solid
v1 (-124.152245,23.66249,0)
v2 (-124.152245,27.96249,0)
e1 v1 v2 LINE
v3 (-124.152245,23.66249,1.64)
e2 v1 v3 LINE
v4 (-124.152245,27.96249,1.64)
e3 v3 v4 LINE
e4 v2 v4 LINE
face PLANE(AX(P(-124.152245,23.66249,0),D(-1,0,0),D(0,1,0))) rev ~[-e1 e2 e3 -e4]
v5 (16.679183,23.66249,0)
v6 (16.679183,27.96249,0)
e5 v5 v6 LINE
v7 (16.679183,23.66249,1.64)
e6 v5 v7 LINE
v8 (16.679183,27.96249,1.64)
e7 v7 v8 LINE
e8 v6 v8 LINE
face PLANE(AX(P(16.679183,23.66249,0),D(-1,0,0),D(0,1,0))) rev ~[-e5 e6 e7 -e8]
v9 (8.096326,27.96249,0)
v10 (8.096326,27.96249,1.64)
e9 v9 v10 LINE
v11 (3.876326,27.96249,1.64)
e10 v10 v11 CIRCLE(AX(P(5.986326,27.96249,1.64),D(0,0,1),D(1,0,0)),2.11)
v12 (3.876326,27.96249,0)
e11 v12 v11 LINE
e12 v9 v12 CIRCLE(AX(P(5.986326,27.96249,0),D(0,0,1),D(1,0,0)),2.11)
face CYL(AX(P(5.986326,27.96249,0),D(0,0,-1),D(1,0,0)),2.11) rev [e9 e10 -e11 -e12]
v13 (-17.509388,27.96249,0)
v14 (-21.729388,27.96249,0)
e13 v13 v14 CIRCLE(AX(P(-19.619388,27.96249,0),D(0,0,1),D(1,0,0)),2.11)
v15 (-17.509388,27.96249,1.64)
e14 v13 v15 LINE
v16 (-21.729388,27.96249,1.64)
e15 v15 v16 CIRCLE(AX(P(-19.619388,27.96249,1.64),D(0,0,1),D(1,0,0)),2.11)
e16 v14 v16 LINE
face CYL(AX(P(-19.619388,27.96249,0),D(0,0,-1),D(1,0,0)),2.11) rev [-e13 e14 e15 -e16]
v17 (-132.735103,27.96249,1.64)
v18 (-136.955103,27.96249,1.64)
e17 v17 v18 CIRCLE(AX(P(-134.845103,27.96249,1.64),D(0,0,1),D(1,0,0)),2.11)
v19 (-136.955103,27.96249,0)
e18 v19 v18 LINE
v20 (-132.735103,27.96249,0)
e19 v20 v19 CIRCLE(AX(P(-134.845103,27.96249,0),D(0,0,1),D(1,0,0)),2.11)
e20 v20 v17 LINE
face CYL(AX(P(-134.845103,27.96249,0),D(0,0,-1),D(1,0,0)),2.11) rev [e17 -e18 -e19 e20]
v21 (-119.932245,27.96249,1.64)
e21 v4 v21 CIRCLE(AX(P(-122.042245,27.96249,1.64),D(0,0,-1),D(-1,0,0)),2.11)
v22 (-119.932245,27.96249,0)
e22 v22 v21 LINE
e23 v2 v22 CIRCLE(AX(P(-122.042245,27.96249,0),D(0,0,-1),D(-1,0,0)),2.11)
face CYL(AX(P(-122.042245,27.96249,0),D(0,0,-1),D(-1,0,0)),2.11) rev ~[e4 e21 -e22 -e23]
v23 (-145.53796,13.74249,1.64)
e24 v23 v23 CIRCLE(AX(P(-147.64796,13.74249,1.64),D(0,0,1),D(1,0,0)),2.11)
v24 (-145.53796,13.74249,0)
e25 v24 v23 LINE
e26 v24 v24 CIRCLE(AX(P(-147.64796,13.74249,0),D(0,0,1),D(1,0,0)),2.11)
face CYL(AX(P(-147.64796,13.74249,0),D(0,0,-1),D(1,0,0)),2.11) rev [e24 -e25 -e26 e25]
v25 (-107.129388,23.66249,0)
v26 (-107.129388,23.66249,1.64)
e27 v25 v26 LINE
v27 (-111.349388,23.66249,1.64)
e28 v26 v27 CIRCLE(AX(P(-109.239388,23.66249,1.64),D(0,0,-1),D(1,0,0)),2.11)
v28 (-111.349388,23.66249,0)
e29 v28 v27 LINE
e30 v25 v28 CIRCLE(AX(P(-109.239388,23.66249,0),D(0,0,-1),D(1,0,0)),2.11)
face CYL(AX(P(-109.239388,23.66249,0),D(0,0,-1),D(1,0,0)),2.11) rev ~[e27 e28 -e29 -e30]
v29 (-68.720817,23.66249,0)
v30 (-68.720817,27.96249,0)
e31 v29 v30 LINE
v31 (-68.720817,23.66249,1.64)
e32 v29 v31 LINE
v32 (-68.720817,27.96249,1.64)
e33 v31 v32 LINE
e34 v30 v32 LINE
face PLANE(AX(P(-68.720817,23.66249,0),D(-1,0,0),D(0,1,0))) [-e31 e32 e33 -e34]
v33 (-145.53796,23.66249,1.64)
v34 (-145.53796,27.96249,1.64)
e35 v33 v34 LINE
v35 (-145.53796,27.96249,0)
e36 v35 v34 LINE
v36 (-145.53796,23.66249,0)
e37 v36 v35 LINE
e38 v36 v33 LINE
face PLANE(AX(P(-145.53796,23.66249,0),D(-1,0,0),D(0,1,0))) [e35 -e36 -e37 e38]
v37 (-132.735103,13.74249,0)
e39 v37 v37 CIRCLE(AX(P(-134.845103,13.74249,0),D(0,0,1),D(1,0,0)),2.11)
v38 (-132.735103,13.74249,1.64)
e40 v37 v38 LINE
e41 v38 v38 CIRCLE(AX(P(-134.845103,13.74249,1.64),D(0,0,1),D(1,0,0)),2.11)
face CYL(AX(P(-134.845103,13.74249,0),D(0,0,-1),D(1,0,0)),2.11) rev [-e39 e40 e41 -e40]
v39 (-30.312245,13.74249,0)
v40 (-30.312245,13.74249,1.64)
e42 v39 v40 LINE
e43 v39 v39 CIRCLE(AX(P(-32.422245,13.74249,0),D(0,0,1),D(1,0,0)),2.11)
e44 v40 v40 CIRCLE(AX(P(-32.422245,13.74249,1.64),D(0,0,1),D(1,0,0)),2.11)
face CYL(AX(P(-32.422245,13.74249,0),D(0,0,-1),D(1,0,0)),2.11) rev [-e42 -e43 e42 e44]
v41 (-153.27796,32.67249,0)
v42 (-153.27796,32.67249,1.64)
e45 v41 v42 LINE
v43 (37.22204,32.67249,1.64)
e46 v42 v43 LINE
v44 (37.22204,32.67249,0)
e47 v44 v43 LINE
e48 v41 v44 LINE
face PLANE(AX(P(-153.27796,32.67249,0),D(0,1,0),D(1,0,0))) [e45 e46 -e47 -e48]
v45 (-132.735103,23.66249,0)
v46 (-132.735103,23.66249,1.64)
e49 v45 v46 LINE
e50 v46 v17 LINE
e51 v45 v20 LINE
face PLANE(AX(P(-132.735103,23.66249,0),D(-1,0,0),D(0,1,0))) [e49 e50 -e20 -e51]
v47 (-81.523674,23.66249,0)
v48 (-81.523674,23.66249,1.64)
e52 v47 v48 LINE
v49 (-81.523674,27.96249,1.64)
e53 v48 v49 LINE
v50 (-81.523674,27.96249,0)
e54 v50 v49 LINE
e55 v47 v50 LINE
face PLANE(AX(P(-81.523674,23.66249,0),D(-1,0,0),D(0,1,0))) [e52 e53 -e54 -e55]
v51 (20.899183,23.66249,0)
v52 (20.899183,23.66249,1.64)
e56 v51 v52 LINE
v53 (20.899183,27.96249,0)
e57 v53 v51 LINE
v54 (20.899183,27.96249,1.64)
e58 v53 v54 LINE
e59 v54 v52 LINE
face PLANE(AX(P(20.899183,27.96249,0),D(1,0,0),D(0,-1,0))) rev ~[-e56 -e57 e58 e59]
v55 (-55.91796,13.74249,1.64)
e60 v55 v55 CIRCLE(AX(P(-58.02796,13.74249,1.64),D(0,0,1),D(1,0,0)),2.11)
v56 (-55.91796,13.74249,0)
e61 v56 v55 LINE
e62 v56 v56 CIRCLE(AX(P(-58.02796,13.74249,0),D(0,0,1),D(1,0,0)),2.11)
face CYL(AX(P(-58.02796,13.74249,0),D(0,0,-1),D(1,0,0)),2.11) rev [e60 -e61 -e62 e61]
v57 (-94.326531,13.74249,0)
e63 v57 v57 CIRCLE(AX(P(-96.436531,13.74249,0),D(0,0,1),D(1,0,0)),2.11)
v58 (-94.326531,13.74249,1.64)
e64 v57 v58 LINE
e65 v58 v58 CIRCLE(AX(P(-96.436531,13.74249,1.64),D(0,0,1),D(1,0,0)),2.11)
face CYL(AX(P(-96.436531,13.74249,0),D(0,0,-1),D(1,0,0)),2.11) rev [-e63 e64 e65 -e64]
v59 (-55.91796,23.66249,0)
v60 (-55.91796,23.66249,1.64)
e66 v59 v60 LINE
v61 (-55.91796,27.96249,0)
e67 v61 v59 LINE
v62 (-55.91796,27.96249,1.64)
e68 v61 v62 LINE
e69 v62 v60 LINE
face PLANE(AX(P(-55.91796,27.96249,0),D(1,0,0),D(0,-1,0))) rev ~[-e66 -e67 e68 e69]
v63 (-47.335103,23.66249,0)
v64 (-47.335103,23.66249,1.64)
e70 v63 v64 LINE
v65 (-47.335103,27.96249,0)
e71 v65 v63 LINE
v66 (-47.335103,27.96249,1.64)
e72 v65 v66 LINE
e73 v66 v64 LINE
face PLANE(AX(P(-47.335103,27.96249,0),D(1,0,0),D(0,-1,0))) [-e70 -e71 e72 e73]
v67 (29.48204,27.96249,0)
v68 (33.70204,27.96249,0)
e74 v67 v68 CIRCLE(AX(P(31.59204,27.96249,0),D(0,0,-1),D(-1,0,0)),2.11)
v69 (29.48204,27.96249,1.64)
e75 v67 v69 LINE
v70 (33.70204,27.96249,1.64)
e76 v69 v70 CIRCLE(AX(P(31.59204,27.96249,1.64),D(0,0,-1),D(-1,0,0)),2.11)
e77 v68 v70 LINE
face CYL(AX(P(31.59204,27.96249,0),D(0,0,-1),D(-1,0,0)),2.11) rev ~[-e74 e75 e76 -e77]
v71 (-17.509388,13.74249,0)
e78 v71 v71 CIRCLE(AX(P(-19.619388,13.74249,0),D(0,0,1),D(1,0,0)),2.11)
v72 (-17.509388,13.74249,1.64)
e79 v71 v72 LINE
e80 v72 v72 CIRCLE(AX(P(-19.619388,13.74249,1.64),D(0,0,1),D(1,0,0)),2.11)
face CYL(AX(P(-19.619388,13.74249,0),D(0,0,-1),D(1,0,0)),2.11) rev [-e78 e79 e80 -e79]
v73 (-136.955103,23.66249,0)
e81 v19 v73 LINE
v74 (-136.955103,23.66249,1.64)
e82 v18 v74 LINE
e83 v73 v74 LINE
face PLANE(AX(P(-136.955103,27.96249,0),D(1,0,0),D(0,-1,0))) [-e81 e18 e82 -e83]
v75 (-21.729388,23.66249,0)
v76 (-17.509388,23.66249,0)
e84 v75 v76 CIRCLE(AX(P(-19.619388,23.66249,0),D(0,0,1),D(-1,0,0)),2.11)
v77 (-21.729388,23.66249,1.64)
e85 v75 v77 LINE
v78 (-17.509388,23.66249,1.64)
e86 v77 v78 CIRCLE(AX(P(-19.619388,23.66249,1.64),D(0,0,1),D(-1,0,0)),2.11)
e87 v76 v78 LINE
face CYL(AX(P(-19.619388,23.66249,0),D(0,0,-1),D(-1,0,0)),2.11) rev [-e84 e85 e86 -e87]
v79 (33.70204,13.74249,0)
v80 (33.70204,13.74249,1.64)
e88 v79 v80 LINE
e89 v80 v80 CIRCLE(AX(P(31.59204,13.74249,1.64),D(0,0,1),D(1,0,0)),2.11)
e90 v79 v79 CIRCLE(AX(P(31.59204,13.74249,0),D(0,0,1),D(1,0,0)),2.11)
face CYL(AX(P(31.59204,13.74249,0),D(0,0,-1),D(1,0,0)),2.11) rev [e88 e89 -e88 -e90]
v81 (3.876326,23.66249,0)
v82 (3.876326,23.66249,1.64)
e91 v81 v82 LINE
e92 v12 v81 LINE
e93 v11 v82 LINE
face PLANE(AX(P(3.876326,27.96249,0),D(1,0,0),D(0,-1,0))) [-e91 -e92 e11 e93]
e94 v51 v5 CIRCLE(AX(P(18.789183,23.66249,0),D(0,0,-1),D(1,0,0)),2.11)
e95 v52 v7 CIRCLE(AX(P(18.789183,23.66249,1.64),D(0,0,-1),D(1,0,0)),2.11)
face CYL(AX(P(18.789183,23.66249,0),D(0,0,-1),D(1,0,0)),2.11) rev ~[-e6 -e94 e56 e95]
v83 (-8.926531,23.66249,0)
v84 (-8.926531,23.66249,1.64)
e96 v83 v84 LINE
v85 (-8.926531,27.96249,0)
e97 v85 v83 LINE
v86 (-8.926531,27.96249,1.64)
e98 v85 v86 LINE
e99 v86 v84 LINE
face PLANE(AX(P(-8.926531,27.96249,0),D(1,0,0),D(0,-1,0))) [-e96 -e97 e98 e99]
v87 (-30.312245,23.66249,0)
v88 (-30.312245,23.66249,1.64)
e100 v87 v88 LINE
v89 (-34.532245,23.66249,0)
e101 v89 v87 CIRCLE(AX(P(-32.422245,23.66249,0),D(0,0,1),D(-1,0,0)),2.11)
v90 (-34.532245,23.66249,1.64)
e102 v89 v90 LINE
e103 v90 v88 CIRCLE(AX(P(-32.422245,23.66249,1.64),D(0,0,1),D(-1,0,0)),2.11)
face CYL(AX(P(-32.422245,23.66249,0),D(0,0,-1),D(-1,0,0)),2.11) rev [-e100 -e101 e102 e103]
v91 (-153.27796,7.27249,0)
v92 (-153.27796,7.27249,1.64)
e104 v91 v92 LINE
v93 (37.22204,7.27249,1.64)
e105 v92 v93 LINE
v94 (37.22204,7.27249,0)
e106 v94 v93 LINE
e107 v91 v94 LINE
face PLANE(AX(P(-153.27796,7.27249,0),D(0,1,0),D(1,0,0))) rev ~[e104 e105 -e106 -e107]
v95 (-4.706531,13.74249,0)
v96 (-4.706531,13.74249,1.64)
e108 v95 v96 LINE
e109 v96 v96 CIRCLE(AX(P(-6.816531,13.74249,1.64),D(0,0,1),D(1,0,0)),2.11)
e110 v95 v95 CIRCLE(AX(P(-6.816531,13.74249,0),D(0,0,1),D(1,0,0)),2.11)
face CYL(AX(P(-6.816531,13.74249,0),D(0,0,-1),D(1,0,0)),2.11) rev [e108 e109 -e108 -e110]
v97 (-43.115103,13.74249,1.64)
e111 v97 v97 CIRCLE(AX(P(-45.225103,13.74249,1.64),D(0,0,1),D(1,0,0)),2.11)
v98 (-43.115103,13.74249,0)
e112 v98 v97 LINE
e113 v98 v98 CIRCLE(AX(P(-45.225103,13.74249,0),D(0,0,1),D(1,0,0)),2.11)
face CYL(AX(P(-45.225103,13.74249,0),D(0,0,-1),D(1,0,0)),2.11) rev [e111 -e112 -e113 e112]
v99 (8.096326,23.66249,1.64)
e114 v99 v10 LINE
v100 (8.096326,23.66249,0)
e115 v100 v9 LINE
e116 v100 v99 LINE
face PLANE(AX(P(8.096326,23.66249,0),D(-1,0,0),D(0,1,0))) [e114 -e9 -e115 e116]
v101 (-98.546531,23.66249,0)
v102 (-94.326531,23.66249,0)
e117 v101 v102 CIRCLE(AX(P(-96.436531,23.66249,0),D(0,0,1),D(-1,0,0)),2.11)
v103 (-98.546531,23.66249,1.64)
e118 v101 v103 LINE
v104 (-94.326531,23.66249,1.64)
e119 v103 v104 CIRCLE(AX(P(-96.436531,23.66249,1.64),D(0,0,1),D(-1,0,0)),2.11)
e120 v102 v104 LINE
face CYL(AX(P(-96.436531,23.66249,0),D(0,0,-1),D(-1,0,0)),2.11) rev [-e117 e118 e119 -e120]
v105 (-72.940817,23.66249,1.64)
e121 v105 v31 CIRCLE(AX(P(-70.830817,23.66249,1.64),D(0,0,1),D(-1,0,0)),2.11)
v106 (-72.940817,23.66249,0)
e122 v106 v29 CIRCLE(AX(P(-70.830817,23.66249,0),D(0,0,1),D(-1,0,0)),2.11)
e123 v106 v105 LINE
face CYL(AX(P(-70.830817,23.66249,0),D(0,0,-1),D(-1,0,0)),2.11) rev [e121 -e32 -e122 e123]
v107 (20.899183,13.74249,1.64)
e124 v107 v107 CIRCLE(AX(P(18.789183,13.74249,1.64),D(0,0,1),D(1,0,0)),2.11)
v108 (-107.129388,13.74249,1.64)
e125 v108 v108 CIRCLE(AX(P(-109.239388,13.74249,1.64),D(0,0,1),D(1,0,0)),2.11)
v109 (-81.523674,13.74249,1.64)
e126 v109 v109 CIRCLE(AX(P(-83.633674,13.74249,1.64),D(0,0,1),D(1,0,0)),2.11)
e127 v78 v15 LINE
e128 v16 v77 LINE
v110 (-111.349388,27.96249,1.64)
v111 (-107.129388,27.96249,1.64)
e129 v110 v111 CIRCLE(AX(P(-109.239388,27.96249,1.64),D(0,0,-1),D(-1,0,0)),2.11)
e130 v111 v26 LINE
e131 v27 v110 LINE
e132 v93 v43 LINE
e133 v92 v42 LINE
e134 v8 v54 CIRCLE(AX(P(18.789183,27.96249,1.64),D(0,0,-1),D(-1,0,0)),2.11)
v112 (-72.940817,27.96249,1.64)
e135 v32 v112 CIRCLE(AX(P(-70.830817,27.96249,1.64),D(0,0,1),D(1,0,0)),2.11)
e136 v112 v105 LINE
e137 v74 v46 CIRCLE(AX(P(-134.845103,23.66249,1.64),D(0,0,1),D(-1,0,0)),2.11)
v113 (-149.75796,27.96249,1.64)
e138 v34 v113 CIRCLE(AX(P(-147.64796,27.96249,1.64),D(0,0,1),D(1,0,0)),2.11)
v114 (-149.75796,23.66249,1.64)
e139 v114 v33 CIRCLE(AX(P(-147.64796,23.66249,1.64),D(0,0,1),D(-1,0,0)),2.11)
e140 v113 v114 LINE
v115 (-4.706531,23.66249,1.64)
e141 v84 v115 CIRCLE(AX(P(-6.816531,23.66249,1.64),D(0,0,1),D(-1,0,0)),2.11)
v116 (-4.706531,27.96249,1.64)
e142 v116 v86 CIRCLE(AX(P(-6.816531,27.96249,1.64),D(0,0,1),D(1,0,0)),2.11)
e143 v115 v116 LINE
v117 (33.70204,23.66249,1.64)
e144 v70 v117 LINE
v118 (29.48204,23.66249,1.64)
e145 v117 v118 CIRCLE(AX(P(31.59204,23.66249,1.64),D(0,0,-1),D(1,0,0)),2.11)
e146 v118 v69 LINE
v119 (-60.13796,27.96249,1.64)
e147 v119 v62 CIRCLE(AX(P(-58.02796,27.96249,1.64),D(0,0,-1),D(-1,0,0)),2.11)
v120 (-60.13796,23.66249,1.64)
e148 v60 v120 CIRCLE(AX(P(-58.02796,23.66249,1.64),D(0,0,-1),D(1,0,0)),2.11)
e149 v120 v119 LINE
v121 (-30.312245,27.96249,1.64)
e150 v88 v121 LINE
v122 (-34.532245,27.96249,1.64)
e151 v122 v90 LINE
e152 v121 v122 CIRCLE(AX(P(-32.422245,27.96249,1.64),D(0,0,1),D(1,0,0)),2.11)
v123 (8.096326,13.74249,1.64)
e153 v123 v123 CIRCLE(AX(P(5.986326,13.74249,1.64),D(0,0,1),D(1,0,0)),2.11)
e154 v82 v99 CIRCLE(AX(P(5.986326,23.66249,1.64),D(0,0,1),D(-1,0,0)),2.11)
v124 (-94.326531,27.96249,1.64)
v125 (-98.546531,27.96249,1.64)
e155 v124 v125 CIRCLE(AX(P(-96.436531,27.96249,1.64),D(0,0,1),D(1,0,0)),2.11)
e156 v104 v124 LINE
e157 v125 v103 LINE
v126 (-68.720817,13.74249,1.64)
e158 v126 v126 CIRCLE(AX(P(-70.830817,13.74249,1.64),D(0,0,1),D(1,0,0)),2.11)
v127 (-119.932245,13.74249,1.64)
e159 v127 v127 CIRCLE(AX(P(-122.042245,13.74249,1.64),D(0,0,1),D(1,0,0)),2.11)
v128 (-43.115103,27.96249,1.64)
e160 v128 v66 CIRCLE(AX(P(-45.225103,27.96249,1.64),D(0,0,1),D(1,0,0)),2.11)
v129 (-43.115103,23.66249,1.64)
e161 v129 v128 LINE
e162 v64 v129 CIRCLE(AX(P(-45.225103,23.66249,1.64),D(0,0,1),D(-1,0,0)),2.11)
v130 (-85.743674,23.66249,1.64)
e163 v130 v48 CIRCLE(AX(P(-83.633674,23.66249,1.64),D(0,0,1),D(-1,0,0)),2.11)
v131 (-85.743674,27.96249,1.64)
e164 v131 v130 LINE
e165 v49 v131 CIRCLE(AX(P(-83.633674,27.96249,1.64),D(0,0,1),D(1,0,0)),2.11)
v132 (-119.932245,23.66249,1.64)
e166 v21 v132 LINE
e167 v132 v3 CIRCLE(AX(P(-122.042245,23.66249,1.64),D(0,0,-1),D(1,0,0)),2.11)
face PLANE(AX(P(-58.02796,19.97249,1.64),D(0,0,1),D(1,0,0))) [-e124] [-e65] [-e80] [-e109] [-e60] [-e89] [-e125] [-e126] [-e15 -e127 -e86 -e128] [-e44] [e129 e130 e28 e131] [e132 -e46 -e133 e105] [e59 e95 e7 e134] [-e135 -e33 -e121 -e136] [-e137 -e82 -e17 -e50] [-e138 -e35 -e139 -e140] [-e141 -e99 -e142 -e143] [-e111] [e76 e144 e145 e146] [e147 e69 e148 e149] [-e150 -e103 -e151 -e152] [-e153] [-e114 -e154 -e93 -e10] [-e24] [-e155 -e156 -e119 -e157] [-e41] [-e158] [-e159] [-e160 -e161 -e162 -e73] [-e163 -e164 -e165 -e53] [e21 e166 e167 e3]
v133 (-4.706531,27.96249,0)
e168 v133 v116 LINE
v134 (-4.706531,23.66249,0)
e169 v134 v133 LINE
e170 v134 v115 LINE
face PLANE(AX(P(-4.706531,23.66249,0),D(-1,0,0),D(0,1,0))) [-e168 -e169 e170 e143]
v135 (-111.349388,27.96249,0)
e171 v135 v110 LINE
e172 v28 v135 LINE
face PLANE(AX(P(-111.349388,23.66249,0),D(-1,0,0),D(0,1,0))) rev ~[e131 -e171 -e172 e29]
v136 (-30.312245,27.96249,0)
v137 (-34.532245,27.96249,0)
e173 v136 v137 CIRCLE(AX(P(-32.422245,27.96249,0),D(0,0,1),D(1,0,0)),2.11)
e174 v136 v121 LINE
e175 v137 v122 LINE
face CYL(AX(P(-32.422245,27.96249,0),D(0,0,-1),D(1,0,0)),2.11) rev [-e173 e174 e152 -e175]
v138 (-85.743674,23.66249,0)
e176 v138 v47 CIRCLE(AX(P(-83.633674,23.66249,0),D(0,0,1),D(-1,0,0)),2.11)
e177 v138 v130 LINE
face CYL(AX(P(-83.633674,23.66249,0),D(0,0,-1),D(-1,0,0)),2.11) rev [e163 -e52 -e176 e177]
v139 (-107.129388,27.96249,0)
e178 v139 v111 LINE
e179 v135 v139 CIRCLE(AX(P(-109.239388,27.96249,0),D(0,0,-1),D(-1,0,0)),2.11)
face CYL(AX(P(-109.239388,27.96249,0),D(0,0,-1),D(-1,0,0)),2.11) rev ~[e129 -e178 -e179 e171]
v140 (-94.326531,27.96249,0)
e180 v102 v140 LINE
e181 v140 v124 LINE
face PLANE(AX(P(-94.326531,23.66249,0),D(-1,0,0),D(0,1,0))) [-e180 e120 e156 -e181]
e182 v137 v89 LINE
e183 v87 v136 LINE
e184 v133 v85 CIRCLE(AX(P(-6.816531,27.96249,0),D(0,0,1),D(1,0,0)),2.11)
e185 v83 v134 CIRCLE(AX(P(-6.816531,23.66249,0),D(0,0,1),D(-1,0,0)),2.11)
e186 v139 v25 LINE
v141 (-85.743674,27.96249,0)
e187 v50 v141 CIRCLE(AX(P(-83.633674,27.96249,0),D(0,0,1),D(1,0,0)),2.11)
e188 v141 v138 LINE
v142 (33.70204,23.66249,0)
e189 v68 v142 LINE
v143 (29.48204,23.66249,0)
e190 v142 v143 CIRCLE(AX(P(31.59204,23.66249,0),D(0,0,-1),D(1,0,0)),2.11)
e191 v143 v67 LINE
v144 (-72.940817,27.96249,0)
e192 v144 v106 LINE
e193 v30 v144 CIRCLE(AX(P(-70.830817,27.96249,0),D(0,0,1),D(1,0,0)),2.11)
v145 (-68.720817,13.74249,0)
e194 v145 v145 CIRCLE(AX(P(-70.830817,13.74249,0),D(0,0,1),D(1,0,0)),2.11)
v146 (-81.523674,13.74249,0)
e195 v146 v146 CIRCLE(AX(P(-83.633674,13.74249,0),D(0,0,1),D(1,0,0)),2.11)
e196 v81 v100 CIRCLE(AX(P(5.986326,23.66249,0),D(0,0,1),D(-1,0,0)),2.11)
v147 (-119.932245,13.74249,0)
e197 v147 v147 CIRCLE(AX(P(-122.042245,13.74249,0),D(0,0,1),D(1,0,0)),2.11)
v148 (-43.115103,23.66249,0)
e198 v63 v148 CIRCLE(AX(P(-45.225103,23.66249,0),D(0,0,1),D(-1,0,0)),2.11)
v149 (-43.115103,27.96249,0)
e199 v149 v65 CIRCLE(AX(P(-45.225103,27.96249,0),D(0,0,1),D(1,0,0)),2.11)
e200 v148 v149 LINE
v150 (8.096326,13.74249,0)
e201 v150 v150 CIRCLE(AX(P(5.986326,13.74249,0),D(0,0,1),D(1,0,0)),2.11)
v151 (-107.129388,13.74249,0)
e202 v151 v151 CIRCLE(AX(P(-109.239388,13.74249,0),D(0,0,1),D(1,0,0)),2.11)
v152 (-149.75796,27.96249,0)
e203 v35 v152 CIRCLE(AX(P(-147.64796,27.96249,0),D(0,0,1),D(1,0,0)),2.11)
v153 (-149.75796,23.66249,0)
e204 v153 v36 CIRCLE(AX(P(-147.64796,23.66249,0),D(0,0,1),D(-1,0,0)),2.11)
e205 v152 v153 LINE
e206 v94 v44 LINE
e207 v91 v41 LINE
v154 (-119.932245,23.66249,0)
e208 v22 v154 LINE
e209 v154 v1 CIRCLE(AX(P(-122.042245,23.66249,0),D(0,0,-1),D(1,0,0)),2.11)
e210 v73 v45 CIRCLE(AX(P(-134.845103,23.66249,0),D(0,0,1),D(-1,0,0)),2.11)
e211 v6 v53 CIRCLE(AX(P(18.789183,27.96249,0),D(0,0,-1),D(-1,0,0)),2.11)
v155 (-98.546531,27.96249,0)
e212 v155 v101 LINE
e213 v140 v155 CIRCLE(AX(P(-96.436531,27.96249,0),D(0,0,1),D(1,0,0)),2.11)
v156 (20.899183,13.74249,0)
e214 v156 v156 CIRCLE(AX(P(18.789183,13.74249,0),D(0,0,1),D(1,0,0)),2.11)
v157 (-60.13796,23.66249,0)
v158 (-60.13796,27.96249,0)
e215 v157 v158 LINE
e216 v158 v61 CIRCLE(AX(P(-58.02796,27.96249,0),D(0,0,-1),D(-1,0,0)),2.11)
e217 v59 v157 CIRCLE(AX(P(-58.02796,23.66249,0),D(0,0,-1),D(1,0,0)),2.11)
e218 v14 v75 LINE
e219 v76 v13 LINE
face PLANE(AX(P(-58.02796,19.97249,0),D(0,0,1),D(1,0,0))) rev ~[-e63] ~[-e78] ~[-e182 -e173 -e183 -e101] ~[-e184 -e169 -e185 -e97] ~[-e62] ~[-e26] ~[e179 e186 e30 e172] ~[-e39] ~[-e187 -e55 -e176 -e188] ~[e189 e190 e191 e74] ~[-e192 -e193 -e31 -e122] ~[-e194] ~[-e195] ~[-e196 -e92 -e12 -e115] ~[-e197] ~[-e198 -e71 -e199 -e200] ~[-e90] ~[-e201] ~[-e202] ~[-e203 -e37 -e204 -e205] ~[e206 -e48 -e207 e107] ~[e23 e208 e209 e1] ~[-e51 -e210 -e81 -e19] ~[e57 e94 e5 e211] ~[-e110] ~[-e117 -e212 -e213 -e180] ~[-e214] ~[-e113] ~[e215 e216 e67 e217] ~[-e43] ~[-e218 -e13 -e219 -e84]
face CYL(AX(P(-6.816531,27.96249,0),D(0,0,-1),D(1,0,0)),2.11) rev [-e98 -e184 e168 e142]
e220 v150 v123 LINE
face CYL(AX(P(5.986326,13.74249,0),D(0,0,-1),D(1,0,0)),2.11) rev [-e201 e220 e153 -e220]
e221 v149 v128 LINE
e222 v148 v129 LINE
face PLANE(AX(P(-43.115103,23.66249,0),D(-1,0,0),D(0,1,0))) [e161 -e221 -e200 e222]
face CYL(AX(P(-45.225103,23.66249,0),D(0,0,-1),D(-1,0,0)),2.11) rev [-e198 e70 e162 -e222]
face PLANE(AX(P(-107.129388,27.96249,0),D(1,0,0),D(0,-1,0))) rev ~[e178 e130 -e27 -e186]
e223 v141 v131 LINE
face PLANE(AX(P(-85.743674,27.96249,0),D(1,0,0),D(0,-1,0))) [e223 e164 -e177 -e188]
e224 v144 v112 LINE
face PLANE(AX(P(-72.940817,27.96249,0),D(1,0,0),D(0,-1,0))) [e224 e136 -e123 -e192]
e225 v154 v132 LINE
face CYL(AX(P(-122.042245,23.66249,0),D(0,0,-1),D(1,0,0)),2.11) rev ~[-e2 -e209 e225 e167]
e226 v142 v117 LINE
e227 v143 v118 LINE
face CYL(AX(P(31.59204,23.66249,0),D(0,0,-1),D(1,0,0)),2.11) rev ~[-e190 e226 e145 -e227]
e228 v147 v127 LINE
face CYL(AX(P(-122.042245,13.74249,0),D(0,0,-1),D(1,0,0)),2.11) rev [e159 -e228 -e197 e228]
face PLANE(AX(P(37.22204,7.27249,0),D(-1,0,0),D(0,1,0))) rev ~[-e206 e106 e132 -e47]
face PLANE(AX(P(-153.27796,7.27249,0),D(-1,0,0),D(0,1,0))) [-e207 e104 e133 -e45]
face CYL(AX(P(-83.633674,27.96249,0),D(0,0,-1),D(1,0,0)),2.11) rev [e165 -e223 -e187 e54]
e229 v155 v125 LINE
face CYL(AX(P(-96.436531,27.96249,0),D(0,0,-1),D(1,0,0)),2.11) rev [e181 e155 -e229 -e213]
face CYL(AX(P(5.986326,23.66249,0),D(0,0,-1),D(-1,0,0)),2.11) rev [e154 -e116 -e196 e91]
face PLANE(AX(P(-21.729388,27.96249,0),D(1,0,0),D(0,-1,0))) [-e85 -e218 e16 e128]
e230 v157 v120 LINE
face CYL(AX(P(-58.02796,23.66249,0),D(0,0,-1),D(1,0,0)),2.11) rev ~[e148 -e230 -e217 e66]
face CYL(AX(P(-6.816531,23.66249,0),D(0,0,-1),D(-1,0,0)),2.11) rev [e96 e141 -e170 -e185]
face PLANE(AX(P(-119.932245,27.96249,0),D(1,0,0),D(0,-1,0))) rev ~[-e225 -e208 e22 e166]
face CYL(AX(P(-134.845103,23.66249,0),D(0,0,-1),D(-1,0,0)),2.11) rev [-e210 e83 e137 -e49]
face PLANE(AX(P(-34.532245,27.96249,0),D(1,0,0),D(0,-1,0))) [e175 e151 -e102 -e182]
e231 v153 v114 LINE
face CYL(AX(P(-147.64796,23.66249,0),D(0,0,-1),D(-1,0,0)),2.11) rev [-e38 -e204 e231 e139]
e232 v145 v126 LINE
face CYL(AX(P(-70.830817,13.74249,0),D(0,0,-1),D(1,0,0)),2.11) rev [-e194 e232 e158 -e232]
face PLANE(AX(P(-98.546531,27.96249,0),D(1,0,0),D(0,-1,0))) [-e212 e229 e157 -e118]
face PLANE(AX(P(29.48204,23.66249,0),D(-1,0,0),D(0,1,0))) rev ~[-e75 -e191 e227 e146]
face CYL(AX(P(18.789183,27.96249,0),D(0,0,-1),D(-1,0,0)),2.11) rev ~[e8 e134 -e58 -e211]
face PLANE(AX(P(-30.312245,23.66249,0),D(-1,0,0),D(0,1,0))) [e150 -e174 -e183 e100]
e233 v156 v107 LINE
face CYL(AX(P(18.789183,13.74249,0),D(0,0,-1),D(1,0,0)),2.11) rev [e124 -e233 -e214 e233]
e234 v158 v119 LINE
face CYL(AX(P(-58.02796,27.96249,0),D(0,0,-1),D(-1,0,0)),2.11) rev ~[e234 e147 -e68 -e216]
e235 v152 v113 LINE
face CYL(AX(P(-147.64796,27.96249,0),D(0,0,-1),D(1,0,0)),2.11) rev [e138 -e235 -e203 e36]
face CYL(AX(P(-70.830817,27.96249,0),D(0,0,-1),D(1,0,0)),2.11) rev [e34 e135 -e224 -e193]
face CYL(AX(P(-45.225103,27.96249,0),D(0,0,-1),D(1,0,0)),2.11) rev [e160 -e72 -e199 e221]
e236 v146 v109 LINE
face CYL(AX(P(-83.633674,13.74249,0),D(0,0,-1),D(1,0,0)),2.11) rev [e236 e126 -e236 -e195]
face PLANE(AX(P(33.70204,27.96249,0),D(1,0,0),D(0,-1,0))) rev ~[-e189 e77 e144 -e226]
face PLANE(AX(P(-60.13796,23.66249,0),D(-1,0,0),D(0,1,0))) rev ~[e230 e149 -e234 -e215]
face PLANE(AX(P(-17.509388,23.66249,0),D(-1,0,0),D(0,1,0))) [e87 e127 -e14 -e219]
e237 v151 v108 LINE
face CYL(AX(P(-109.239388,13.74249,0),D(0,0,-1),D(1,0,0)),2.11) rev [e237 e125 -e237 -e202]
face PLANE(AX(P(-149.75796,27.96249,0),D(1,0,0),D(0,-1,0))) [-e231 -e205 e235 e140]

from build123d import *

# Parameters (mm, degrees)
SKETCH1_W           = 190.5
SKETCH1_H           = 25.4
BOSS_EXTRUDE3_DEPTH = 1.64
SKETCH1_9_R         = 2.11
CUT_EXTRUDE8_DEPTH  = 1.64


with BuildPart() as part:
    # Sketch1 → Boss-Extrude3 (new body)
    with BuildSketch(Plane.XY):
        with Locations((-58.027959696, 19.972489638)):
            Rectangle(SKETCH1_W, SKETCH1_H)
    extrude(amount=BOSS_EXTRUDE3_DEPTH)

    # Sketch1<9> → Cut-Extrude8 (cut)
    with BuildSketch(Plane.XY):
        with BuildLine():
            Line((33.702040304, 23.662489638), (33.702040304, 27.962489638))
            ThreePointArc((33.702040304, 27.962489638), (31.592040304, 30.072489638), (29.482040304, 27.962489638))
            Line((29.482040304, 27.962489638), (29.482040304, 23.662489638))
            ThreePointArc((29.482040304, 23.662489638), (31.592040304, 21.552489638), (33.702040304, 23.662489638))
        make_face()
        with BuildLine():
            Line((20.899183161, 23.662489638), (20.899183161, 27.962489638))
            ThreePointArc((20.899183161, 27.962489638), (18.789183161, 30.072489638), (16.679183161, 27.962489638))
            Line((16.679183161, 27.962489638), (16.679183161, 23.662489638))
            ThreePointArc((16.679183161, 23.662489638), (18.789183161, 21.552489638), (20.899183161, 23.662489638))
        make_face()
        with BuildLine():
            Line((8.096326018, 23.662489638), (8.096326018, 27.962489638))
            ThreePointArc((8.096326018, 27.962489638), (5.986326018, 30.072489638), (3.876326018, 27.962489638))
            Line((3.876326018, 27.962489638), (3.876326018, 23.662489638))
            ThreePointArc((3.876326018, 23.662489638), (5.986326018, 21.552489638), (8.096326018, 23.662489638))
        make_face()
        with BuildLine():
            Line((-4.706531125, 23.662489638), (-4.706531125, 27.962489638))
            ThreePointArc((-4.706531125, 27.962489638), (-6.816531125, 30.072489638), (-8.926531125, 27.962489638))
            Line((-8.926531125, 27.962489638), (-8.926531125, 23.662489638))
            ThreePointArc((-8.926531125, 23.662489638), (-6.816531125, 21.552489638), (-4.706531125, 23.662489638))
        make_face()
        with BuildLine():
            Line((-17.509388268, 23.662489638), (-17.509388268, 27.962489638))
            ThreePointArc((-17.509388268, 27.962489638), (-19.619388268, 30.072489638), (-21.729388268, 27.962489638))
            Line((-21.729388268, 27.962489638), (-21.729388268, 23.662489638))
            ThreePointArc((-21.729388268, 23.662489638), (-19.619388268, 21.552489638), (-17.509388268, 23.662489638))
        make_face()
        with BuildLine():
            Line((-30.312245411, 23.662489638), (-30.312245411, 27.962489638))
            ThreePointArc((-30.312245411, 27.962489638), (-32.422245411, 30.072489638), (-34.532245411, 27.962489638))
            Line((-34.532245411, 27.962489638), (-34.532245411, 23.662489638))
            ThreePointArc((-34.532245411, 23.662489638), (-32.422245411, 21.552489638), (-30.312245411, 23.662489638))
        make_face()
        with BuildLine():
            Line((-43.115102553, 23.662489638), (-43.115102553, 27.962489638))
            ThreePointArc((-43.115102553, 27.962489638), (-45.225102553, 30.072489638), (-47.335102553, 27.962489638))
            Line((-47.335102553, 27.962489638), (-47.335102553, 23.662489638))
            ThreePointArc((-47.335102553, 23.662489638), (-45.225102553, 21.552489638), (-43.115102553, 23.662489638))
        make_face()
        with BuildLine():
            Line((-55.917959696, 23.662489638), (-55.917959696, 27.962489638))
            ThreePointArc((-55.917959696, 27.962489638), (-58.027959696, 30.072489638), (-60.137959696, 27.962489638))
            Line((-60.137959696, 27.962489638), (-60.137959696, 23.662489638))
            ThreePointArc((-60.137959696, 23.662489638), (-58.027959696, 21.552489638), (-55.917959696, 23.662489638))
        make_face()
        with BuildLine():
            Line((-68.720816839, 23.662489638), (-68.720816839, 27.962489638))
            ThreePointArc((-68.720816839, 27.962489638), (-70.830816839, 30.072489638), (-72.940816839, 27.962489638))
            Line((-72.940816839, 27.962489638), (-72.940816839, 23.662489638))
            ThreePointArc((-72.940816839, 23.662489638), (-70.830816839, 21.552489638), (-68.720816839, 23.662489638))
        make_face()
        with BuildLine():
            Line((-81.523673982, 23.662489638), (-81.523673982, 27.962489638))
            ThreePointArc((-81.523673982, 27.962489638), (-83.633673982, 30.072489638), (-85.743673982, 27.962489638))
            Line((-85.743673982, 27.962489638), (-85.743673982, 23.662489638))
            ThreePointArc((-85.743673982, 23.662489638), (-83.633673982, 21.552489638), (-81.523673982, 23.662489638))
        make_face()
        with BuildLine():
            Line((-94.326531125, 23.662489638), (-94.326531125, 27.962489638))
            ThreePointArc((-94.326531125, 27.962489638), (-96.436531125, 30.072489638), (-98.546531125, 27.962489638))
            Line((-98.546531125, 27.962489638), (-98.546531125, 23.662489638))
            ThreePointArc((-98.546531125, 23.662489638), (-96.436531125, 21.552489638), (-94.326531125, 23.662489638))
        make_face()
        with BuildLine():
            Line((-107.129388268, 23.662489638), (-107.129388268, 27.962489638))
            ThreePointArc((-107.129388268, 27.962489638), (-109.239388268, 30.072489638), (-111.349388268, 27.962489638))
            Line((-111.349388268, 27.962489638), (-111.349388268, 23.662489638))
            ThreePointArc((-111.349388268, 23.662489638), (-109.239388268, 21.552489638), (-107.129388268, 23.662489638))
        make_face()
        with BuildLine():
            Line((-119.932245411, 23.662489638), (-119.932245411, 27.962489638))
            ThreePointArc((-119.932245411, 27.962489638), (-122.042245411, 30.072489638), (-124.152245411, 27.962489638))
            Line((-124.152245411, 27.962489638), (-124.152245411, 23.662489638))
            ThreePointArc((-124.152245411, 23.662489638), (-122.042245411, 21.552489638), (-119.932245411, 23.662489638))
        make_face()
        with BuildLine():
            Line((-132.735102553, 23.662489638), (-132.735102553, 27.962489638))
            ThreePointArc((-132.735102553, 27.962489638), (-134.845102553, 30.072489638), (-136.955102553, 27.962489638))
            Line((-136.955102553, 27.962489638), (-136.955102553, 23.662489638))
            ThreePointArc((-136.955102553, 23.662489638), (-134.845102553, 21.552489638), (-132.735102553, 23.662489638))
        make_face()
        with BuildLine():
            Line((-145.537959696, 23.662489638), (-145.537959696, 27.962489638))
            ThreePointArc((-145.537959696, 27.962489638), (-147.647959696, 30.072489638), (-149.757959696, 27.962489638))
            Line((-149.757959696, 27.962489638), (-149.757959696, 23.662489638))
            ThreePointArc((-149.757959696, 23.662489638), (-147.647959696, 21.552489638), (-145.537959696, 23.662489638))
        make_face()
        with Locations((-147.647959696, 13.742489638)):
            Circle(SKETCH1_9_R)
        with Locations((-134.845102553, 13.742489638)):
            Circle(SKETCH1_9_R)
        with Locations((-122.042245411, 13.742489638)):
            Circle(SKETCH1_9_R)
        with Locations((-109.239388268, 13.742489638)):
            Circle(SKETCH1_9_R)
        with Locations((-96.436531125, 13.742489638)):
            Circle(SKETCH1_9_R)
        with Locations((-83.633673982, 13.742489638)):
            Circle(SKETCH1_9_R)
        with Locations((-70.830816839, 13.742489638)):
            Circle(SKETCH1_9_R)
        with Locations((-58.027959696, 13.742489638)):
            Circle(SKETCH1_9_R)
        with Locations((-45.225102553, 13.742489638)):
            Circle(SKETCH1_9_R)
        with Locations((-32.422245411, 13.742489638)):
            Circle(SKETCH1_9_R)
        with Locations((-19.619388268, 13.742489638)):
            Circle(SKETCH1_9_R)
        with Locations((-6.816531125, 13.742489638)):
            Circle(SKETCH1_9_R)
        with Locations((5.986326018, 13.742489638)):
            Circle(SKETCH1_9_R)
        with Locations((18.789183161, 13.742489638)):
            Circle(SKETCH1_9_R)
        with Locations((31.592040304, 13.742489638)):
            Circle(SKETCH1_9_R)
    extrude(amount=CUT_EXTRUDE8_DEPTH, mode=Mode.SUBTRACT)


solid = part.part
